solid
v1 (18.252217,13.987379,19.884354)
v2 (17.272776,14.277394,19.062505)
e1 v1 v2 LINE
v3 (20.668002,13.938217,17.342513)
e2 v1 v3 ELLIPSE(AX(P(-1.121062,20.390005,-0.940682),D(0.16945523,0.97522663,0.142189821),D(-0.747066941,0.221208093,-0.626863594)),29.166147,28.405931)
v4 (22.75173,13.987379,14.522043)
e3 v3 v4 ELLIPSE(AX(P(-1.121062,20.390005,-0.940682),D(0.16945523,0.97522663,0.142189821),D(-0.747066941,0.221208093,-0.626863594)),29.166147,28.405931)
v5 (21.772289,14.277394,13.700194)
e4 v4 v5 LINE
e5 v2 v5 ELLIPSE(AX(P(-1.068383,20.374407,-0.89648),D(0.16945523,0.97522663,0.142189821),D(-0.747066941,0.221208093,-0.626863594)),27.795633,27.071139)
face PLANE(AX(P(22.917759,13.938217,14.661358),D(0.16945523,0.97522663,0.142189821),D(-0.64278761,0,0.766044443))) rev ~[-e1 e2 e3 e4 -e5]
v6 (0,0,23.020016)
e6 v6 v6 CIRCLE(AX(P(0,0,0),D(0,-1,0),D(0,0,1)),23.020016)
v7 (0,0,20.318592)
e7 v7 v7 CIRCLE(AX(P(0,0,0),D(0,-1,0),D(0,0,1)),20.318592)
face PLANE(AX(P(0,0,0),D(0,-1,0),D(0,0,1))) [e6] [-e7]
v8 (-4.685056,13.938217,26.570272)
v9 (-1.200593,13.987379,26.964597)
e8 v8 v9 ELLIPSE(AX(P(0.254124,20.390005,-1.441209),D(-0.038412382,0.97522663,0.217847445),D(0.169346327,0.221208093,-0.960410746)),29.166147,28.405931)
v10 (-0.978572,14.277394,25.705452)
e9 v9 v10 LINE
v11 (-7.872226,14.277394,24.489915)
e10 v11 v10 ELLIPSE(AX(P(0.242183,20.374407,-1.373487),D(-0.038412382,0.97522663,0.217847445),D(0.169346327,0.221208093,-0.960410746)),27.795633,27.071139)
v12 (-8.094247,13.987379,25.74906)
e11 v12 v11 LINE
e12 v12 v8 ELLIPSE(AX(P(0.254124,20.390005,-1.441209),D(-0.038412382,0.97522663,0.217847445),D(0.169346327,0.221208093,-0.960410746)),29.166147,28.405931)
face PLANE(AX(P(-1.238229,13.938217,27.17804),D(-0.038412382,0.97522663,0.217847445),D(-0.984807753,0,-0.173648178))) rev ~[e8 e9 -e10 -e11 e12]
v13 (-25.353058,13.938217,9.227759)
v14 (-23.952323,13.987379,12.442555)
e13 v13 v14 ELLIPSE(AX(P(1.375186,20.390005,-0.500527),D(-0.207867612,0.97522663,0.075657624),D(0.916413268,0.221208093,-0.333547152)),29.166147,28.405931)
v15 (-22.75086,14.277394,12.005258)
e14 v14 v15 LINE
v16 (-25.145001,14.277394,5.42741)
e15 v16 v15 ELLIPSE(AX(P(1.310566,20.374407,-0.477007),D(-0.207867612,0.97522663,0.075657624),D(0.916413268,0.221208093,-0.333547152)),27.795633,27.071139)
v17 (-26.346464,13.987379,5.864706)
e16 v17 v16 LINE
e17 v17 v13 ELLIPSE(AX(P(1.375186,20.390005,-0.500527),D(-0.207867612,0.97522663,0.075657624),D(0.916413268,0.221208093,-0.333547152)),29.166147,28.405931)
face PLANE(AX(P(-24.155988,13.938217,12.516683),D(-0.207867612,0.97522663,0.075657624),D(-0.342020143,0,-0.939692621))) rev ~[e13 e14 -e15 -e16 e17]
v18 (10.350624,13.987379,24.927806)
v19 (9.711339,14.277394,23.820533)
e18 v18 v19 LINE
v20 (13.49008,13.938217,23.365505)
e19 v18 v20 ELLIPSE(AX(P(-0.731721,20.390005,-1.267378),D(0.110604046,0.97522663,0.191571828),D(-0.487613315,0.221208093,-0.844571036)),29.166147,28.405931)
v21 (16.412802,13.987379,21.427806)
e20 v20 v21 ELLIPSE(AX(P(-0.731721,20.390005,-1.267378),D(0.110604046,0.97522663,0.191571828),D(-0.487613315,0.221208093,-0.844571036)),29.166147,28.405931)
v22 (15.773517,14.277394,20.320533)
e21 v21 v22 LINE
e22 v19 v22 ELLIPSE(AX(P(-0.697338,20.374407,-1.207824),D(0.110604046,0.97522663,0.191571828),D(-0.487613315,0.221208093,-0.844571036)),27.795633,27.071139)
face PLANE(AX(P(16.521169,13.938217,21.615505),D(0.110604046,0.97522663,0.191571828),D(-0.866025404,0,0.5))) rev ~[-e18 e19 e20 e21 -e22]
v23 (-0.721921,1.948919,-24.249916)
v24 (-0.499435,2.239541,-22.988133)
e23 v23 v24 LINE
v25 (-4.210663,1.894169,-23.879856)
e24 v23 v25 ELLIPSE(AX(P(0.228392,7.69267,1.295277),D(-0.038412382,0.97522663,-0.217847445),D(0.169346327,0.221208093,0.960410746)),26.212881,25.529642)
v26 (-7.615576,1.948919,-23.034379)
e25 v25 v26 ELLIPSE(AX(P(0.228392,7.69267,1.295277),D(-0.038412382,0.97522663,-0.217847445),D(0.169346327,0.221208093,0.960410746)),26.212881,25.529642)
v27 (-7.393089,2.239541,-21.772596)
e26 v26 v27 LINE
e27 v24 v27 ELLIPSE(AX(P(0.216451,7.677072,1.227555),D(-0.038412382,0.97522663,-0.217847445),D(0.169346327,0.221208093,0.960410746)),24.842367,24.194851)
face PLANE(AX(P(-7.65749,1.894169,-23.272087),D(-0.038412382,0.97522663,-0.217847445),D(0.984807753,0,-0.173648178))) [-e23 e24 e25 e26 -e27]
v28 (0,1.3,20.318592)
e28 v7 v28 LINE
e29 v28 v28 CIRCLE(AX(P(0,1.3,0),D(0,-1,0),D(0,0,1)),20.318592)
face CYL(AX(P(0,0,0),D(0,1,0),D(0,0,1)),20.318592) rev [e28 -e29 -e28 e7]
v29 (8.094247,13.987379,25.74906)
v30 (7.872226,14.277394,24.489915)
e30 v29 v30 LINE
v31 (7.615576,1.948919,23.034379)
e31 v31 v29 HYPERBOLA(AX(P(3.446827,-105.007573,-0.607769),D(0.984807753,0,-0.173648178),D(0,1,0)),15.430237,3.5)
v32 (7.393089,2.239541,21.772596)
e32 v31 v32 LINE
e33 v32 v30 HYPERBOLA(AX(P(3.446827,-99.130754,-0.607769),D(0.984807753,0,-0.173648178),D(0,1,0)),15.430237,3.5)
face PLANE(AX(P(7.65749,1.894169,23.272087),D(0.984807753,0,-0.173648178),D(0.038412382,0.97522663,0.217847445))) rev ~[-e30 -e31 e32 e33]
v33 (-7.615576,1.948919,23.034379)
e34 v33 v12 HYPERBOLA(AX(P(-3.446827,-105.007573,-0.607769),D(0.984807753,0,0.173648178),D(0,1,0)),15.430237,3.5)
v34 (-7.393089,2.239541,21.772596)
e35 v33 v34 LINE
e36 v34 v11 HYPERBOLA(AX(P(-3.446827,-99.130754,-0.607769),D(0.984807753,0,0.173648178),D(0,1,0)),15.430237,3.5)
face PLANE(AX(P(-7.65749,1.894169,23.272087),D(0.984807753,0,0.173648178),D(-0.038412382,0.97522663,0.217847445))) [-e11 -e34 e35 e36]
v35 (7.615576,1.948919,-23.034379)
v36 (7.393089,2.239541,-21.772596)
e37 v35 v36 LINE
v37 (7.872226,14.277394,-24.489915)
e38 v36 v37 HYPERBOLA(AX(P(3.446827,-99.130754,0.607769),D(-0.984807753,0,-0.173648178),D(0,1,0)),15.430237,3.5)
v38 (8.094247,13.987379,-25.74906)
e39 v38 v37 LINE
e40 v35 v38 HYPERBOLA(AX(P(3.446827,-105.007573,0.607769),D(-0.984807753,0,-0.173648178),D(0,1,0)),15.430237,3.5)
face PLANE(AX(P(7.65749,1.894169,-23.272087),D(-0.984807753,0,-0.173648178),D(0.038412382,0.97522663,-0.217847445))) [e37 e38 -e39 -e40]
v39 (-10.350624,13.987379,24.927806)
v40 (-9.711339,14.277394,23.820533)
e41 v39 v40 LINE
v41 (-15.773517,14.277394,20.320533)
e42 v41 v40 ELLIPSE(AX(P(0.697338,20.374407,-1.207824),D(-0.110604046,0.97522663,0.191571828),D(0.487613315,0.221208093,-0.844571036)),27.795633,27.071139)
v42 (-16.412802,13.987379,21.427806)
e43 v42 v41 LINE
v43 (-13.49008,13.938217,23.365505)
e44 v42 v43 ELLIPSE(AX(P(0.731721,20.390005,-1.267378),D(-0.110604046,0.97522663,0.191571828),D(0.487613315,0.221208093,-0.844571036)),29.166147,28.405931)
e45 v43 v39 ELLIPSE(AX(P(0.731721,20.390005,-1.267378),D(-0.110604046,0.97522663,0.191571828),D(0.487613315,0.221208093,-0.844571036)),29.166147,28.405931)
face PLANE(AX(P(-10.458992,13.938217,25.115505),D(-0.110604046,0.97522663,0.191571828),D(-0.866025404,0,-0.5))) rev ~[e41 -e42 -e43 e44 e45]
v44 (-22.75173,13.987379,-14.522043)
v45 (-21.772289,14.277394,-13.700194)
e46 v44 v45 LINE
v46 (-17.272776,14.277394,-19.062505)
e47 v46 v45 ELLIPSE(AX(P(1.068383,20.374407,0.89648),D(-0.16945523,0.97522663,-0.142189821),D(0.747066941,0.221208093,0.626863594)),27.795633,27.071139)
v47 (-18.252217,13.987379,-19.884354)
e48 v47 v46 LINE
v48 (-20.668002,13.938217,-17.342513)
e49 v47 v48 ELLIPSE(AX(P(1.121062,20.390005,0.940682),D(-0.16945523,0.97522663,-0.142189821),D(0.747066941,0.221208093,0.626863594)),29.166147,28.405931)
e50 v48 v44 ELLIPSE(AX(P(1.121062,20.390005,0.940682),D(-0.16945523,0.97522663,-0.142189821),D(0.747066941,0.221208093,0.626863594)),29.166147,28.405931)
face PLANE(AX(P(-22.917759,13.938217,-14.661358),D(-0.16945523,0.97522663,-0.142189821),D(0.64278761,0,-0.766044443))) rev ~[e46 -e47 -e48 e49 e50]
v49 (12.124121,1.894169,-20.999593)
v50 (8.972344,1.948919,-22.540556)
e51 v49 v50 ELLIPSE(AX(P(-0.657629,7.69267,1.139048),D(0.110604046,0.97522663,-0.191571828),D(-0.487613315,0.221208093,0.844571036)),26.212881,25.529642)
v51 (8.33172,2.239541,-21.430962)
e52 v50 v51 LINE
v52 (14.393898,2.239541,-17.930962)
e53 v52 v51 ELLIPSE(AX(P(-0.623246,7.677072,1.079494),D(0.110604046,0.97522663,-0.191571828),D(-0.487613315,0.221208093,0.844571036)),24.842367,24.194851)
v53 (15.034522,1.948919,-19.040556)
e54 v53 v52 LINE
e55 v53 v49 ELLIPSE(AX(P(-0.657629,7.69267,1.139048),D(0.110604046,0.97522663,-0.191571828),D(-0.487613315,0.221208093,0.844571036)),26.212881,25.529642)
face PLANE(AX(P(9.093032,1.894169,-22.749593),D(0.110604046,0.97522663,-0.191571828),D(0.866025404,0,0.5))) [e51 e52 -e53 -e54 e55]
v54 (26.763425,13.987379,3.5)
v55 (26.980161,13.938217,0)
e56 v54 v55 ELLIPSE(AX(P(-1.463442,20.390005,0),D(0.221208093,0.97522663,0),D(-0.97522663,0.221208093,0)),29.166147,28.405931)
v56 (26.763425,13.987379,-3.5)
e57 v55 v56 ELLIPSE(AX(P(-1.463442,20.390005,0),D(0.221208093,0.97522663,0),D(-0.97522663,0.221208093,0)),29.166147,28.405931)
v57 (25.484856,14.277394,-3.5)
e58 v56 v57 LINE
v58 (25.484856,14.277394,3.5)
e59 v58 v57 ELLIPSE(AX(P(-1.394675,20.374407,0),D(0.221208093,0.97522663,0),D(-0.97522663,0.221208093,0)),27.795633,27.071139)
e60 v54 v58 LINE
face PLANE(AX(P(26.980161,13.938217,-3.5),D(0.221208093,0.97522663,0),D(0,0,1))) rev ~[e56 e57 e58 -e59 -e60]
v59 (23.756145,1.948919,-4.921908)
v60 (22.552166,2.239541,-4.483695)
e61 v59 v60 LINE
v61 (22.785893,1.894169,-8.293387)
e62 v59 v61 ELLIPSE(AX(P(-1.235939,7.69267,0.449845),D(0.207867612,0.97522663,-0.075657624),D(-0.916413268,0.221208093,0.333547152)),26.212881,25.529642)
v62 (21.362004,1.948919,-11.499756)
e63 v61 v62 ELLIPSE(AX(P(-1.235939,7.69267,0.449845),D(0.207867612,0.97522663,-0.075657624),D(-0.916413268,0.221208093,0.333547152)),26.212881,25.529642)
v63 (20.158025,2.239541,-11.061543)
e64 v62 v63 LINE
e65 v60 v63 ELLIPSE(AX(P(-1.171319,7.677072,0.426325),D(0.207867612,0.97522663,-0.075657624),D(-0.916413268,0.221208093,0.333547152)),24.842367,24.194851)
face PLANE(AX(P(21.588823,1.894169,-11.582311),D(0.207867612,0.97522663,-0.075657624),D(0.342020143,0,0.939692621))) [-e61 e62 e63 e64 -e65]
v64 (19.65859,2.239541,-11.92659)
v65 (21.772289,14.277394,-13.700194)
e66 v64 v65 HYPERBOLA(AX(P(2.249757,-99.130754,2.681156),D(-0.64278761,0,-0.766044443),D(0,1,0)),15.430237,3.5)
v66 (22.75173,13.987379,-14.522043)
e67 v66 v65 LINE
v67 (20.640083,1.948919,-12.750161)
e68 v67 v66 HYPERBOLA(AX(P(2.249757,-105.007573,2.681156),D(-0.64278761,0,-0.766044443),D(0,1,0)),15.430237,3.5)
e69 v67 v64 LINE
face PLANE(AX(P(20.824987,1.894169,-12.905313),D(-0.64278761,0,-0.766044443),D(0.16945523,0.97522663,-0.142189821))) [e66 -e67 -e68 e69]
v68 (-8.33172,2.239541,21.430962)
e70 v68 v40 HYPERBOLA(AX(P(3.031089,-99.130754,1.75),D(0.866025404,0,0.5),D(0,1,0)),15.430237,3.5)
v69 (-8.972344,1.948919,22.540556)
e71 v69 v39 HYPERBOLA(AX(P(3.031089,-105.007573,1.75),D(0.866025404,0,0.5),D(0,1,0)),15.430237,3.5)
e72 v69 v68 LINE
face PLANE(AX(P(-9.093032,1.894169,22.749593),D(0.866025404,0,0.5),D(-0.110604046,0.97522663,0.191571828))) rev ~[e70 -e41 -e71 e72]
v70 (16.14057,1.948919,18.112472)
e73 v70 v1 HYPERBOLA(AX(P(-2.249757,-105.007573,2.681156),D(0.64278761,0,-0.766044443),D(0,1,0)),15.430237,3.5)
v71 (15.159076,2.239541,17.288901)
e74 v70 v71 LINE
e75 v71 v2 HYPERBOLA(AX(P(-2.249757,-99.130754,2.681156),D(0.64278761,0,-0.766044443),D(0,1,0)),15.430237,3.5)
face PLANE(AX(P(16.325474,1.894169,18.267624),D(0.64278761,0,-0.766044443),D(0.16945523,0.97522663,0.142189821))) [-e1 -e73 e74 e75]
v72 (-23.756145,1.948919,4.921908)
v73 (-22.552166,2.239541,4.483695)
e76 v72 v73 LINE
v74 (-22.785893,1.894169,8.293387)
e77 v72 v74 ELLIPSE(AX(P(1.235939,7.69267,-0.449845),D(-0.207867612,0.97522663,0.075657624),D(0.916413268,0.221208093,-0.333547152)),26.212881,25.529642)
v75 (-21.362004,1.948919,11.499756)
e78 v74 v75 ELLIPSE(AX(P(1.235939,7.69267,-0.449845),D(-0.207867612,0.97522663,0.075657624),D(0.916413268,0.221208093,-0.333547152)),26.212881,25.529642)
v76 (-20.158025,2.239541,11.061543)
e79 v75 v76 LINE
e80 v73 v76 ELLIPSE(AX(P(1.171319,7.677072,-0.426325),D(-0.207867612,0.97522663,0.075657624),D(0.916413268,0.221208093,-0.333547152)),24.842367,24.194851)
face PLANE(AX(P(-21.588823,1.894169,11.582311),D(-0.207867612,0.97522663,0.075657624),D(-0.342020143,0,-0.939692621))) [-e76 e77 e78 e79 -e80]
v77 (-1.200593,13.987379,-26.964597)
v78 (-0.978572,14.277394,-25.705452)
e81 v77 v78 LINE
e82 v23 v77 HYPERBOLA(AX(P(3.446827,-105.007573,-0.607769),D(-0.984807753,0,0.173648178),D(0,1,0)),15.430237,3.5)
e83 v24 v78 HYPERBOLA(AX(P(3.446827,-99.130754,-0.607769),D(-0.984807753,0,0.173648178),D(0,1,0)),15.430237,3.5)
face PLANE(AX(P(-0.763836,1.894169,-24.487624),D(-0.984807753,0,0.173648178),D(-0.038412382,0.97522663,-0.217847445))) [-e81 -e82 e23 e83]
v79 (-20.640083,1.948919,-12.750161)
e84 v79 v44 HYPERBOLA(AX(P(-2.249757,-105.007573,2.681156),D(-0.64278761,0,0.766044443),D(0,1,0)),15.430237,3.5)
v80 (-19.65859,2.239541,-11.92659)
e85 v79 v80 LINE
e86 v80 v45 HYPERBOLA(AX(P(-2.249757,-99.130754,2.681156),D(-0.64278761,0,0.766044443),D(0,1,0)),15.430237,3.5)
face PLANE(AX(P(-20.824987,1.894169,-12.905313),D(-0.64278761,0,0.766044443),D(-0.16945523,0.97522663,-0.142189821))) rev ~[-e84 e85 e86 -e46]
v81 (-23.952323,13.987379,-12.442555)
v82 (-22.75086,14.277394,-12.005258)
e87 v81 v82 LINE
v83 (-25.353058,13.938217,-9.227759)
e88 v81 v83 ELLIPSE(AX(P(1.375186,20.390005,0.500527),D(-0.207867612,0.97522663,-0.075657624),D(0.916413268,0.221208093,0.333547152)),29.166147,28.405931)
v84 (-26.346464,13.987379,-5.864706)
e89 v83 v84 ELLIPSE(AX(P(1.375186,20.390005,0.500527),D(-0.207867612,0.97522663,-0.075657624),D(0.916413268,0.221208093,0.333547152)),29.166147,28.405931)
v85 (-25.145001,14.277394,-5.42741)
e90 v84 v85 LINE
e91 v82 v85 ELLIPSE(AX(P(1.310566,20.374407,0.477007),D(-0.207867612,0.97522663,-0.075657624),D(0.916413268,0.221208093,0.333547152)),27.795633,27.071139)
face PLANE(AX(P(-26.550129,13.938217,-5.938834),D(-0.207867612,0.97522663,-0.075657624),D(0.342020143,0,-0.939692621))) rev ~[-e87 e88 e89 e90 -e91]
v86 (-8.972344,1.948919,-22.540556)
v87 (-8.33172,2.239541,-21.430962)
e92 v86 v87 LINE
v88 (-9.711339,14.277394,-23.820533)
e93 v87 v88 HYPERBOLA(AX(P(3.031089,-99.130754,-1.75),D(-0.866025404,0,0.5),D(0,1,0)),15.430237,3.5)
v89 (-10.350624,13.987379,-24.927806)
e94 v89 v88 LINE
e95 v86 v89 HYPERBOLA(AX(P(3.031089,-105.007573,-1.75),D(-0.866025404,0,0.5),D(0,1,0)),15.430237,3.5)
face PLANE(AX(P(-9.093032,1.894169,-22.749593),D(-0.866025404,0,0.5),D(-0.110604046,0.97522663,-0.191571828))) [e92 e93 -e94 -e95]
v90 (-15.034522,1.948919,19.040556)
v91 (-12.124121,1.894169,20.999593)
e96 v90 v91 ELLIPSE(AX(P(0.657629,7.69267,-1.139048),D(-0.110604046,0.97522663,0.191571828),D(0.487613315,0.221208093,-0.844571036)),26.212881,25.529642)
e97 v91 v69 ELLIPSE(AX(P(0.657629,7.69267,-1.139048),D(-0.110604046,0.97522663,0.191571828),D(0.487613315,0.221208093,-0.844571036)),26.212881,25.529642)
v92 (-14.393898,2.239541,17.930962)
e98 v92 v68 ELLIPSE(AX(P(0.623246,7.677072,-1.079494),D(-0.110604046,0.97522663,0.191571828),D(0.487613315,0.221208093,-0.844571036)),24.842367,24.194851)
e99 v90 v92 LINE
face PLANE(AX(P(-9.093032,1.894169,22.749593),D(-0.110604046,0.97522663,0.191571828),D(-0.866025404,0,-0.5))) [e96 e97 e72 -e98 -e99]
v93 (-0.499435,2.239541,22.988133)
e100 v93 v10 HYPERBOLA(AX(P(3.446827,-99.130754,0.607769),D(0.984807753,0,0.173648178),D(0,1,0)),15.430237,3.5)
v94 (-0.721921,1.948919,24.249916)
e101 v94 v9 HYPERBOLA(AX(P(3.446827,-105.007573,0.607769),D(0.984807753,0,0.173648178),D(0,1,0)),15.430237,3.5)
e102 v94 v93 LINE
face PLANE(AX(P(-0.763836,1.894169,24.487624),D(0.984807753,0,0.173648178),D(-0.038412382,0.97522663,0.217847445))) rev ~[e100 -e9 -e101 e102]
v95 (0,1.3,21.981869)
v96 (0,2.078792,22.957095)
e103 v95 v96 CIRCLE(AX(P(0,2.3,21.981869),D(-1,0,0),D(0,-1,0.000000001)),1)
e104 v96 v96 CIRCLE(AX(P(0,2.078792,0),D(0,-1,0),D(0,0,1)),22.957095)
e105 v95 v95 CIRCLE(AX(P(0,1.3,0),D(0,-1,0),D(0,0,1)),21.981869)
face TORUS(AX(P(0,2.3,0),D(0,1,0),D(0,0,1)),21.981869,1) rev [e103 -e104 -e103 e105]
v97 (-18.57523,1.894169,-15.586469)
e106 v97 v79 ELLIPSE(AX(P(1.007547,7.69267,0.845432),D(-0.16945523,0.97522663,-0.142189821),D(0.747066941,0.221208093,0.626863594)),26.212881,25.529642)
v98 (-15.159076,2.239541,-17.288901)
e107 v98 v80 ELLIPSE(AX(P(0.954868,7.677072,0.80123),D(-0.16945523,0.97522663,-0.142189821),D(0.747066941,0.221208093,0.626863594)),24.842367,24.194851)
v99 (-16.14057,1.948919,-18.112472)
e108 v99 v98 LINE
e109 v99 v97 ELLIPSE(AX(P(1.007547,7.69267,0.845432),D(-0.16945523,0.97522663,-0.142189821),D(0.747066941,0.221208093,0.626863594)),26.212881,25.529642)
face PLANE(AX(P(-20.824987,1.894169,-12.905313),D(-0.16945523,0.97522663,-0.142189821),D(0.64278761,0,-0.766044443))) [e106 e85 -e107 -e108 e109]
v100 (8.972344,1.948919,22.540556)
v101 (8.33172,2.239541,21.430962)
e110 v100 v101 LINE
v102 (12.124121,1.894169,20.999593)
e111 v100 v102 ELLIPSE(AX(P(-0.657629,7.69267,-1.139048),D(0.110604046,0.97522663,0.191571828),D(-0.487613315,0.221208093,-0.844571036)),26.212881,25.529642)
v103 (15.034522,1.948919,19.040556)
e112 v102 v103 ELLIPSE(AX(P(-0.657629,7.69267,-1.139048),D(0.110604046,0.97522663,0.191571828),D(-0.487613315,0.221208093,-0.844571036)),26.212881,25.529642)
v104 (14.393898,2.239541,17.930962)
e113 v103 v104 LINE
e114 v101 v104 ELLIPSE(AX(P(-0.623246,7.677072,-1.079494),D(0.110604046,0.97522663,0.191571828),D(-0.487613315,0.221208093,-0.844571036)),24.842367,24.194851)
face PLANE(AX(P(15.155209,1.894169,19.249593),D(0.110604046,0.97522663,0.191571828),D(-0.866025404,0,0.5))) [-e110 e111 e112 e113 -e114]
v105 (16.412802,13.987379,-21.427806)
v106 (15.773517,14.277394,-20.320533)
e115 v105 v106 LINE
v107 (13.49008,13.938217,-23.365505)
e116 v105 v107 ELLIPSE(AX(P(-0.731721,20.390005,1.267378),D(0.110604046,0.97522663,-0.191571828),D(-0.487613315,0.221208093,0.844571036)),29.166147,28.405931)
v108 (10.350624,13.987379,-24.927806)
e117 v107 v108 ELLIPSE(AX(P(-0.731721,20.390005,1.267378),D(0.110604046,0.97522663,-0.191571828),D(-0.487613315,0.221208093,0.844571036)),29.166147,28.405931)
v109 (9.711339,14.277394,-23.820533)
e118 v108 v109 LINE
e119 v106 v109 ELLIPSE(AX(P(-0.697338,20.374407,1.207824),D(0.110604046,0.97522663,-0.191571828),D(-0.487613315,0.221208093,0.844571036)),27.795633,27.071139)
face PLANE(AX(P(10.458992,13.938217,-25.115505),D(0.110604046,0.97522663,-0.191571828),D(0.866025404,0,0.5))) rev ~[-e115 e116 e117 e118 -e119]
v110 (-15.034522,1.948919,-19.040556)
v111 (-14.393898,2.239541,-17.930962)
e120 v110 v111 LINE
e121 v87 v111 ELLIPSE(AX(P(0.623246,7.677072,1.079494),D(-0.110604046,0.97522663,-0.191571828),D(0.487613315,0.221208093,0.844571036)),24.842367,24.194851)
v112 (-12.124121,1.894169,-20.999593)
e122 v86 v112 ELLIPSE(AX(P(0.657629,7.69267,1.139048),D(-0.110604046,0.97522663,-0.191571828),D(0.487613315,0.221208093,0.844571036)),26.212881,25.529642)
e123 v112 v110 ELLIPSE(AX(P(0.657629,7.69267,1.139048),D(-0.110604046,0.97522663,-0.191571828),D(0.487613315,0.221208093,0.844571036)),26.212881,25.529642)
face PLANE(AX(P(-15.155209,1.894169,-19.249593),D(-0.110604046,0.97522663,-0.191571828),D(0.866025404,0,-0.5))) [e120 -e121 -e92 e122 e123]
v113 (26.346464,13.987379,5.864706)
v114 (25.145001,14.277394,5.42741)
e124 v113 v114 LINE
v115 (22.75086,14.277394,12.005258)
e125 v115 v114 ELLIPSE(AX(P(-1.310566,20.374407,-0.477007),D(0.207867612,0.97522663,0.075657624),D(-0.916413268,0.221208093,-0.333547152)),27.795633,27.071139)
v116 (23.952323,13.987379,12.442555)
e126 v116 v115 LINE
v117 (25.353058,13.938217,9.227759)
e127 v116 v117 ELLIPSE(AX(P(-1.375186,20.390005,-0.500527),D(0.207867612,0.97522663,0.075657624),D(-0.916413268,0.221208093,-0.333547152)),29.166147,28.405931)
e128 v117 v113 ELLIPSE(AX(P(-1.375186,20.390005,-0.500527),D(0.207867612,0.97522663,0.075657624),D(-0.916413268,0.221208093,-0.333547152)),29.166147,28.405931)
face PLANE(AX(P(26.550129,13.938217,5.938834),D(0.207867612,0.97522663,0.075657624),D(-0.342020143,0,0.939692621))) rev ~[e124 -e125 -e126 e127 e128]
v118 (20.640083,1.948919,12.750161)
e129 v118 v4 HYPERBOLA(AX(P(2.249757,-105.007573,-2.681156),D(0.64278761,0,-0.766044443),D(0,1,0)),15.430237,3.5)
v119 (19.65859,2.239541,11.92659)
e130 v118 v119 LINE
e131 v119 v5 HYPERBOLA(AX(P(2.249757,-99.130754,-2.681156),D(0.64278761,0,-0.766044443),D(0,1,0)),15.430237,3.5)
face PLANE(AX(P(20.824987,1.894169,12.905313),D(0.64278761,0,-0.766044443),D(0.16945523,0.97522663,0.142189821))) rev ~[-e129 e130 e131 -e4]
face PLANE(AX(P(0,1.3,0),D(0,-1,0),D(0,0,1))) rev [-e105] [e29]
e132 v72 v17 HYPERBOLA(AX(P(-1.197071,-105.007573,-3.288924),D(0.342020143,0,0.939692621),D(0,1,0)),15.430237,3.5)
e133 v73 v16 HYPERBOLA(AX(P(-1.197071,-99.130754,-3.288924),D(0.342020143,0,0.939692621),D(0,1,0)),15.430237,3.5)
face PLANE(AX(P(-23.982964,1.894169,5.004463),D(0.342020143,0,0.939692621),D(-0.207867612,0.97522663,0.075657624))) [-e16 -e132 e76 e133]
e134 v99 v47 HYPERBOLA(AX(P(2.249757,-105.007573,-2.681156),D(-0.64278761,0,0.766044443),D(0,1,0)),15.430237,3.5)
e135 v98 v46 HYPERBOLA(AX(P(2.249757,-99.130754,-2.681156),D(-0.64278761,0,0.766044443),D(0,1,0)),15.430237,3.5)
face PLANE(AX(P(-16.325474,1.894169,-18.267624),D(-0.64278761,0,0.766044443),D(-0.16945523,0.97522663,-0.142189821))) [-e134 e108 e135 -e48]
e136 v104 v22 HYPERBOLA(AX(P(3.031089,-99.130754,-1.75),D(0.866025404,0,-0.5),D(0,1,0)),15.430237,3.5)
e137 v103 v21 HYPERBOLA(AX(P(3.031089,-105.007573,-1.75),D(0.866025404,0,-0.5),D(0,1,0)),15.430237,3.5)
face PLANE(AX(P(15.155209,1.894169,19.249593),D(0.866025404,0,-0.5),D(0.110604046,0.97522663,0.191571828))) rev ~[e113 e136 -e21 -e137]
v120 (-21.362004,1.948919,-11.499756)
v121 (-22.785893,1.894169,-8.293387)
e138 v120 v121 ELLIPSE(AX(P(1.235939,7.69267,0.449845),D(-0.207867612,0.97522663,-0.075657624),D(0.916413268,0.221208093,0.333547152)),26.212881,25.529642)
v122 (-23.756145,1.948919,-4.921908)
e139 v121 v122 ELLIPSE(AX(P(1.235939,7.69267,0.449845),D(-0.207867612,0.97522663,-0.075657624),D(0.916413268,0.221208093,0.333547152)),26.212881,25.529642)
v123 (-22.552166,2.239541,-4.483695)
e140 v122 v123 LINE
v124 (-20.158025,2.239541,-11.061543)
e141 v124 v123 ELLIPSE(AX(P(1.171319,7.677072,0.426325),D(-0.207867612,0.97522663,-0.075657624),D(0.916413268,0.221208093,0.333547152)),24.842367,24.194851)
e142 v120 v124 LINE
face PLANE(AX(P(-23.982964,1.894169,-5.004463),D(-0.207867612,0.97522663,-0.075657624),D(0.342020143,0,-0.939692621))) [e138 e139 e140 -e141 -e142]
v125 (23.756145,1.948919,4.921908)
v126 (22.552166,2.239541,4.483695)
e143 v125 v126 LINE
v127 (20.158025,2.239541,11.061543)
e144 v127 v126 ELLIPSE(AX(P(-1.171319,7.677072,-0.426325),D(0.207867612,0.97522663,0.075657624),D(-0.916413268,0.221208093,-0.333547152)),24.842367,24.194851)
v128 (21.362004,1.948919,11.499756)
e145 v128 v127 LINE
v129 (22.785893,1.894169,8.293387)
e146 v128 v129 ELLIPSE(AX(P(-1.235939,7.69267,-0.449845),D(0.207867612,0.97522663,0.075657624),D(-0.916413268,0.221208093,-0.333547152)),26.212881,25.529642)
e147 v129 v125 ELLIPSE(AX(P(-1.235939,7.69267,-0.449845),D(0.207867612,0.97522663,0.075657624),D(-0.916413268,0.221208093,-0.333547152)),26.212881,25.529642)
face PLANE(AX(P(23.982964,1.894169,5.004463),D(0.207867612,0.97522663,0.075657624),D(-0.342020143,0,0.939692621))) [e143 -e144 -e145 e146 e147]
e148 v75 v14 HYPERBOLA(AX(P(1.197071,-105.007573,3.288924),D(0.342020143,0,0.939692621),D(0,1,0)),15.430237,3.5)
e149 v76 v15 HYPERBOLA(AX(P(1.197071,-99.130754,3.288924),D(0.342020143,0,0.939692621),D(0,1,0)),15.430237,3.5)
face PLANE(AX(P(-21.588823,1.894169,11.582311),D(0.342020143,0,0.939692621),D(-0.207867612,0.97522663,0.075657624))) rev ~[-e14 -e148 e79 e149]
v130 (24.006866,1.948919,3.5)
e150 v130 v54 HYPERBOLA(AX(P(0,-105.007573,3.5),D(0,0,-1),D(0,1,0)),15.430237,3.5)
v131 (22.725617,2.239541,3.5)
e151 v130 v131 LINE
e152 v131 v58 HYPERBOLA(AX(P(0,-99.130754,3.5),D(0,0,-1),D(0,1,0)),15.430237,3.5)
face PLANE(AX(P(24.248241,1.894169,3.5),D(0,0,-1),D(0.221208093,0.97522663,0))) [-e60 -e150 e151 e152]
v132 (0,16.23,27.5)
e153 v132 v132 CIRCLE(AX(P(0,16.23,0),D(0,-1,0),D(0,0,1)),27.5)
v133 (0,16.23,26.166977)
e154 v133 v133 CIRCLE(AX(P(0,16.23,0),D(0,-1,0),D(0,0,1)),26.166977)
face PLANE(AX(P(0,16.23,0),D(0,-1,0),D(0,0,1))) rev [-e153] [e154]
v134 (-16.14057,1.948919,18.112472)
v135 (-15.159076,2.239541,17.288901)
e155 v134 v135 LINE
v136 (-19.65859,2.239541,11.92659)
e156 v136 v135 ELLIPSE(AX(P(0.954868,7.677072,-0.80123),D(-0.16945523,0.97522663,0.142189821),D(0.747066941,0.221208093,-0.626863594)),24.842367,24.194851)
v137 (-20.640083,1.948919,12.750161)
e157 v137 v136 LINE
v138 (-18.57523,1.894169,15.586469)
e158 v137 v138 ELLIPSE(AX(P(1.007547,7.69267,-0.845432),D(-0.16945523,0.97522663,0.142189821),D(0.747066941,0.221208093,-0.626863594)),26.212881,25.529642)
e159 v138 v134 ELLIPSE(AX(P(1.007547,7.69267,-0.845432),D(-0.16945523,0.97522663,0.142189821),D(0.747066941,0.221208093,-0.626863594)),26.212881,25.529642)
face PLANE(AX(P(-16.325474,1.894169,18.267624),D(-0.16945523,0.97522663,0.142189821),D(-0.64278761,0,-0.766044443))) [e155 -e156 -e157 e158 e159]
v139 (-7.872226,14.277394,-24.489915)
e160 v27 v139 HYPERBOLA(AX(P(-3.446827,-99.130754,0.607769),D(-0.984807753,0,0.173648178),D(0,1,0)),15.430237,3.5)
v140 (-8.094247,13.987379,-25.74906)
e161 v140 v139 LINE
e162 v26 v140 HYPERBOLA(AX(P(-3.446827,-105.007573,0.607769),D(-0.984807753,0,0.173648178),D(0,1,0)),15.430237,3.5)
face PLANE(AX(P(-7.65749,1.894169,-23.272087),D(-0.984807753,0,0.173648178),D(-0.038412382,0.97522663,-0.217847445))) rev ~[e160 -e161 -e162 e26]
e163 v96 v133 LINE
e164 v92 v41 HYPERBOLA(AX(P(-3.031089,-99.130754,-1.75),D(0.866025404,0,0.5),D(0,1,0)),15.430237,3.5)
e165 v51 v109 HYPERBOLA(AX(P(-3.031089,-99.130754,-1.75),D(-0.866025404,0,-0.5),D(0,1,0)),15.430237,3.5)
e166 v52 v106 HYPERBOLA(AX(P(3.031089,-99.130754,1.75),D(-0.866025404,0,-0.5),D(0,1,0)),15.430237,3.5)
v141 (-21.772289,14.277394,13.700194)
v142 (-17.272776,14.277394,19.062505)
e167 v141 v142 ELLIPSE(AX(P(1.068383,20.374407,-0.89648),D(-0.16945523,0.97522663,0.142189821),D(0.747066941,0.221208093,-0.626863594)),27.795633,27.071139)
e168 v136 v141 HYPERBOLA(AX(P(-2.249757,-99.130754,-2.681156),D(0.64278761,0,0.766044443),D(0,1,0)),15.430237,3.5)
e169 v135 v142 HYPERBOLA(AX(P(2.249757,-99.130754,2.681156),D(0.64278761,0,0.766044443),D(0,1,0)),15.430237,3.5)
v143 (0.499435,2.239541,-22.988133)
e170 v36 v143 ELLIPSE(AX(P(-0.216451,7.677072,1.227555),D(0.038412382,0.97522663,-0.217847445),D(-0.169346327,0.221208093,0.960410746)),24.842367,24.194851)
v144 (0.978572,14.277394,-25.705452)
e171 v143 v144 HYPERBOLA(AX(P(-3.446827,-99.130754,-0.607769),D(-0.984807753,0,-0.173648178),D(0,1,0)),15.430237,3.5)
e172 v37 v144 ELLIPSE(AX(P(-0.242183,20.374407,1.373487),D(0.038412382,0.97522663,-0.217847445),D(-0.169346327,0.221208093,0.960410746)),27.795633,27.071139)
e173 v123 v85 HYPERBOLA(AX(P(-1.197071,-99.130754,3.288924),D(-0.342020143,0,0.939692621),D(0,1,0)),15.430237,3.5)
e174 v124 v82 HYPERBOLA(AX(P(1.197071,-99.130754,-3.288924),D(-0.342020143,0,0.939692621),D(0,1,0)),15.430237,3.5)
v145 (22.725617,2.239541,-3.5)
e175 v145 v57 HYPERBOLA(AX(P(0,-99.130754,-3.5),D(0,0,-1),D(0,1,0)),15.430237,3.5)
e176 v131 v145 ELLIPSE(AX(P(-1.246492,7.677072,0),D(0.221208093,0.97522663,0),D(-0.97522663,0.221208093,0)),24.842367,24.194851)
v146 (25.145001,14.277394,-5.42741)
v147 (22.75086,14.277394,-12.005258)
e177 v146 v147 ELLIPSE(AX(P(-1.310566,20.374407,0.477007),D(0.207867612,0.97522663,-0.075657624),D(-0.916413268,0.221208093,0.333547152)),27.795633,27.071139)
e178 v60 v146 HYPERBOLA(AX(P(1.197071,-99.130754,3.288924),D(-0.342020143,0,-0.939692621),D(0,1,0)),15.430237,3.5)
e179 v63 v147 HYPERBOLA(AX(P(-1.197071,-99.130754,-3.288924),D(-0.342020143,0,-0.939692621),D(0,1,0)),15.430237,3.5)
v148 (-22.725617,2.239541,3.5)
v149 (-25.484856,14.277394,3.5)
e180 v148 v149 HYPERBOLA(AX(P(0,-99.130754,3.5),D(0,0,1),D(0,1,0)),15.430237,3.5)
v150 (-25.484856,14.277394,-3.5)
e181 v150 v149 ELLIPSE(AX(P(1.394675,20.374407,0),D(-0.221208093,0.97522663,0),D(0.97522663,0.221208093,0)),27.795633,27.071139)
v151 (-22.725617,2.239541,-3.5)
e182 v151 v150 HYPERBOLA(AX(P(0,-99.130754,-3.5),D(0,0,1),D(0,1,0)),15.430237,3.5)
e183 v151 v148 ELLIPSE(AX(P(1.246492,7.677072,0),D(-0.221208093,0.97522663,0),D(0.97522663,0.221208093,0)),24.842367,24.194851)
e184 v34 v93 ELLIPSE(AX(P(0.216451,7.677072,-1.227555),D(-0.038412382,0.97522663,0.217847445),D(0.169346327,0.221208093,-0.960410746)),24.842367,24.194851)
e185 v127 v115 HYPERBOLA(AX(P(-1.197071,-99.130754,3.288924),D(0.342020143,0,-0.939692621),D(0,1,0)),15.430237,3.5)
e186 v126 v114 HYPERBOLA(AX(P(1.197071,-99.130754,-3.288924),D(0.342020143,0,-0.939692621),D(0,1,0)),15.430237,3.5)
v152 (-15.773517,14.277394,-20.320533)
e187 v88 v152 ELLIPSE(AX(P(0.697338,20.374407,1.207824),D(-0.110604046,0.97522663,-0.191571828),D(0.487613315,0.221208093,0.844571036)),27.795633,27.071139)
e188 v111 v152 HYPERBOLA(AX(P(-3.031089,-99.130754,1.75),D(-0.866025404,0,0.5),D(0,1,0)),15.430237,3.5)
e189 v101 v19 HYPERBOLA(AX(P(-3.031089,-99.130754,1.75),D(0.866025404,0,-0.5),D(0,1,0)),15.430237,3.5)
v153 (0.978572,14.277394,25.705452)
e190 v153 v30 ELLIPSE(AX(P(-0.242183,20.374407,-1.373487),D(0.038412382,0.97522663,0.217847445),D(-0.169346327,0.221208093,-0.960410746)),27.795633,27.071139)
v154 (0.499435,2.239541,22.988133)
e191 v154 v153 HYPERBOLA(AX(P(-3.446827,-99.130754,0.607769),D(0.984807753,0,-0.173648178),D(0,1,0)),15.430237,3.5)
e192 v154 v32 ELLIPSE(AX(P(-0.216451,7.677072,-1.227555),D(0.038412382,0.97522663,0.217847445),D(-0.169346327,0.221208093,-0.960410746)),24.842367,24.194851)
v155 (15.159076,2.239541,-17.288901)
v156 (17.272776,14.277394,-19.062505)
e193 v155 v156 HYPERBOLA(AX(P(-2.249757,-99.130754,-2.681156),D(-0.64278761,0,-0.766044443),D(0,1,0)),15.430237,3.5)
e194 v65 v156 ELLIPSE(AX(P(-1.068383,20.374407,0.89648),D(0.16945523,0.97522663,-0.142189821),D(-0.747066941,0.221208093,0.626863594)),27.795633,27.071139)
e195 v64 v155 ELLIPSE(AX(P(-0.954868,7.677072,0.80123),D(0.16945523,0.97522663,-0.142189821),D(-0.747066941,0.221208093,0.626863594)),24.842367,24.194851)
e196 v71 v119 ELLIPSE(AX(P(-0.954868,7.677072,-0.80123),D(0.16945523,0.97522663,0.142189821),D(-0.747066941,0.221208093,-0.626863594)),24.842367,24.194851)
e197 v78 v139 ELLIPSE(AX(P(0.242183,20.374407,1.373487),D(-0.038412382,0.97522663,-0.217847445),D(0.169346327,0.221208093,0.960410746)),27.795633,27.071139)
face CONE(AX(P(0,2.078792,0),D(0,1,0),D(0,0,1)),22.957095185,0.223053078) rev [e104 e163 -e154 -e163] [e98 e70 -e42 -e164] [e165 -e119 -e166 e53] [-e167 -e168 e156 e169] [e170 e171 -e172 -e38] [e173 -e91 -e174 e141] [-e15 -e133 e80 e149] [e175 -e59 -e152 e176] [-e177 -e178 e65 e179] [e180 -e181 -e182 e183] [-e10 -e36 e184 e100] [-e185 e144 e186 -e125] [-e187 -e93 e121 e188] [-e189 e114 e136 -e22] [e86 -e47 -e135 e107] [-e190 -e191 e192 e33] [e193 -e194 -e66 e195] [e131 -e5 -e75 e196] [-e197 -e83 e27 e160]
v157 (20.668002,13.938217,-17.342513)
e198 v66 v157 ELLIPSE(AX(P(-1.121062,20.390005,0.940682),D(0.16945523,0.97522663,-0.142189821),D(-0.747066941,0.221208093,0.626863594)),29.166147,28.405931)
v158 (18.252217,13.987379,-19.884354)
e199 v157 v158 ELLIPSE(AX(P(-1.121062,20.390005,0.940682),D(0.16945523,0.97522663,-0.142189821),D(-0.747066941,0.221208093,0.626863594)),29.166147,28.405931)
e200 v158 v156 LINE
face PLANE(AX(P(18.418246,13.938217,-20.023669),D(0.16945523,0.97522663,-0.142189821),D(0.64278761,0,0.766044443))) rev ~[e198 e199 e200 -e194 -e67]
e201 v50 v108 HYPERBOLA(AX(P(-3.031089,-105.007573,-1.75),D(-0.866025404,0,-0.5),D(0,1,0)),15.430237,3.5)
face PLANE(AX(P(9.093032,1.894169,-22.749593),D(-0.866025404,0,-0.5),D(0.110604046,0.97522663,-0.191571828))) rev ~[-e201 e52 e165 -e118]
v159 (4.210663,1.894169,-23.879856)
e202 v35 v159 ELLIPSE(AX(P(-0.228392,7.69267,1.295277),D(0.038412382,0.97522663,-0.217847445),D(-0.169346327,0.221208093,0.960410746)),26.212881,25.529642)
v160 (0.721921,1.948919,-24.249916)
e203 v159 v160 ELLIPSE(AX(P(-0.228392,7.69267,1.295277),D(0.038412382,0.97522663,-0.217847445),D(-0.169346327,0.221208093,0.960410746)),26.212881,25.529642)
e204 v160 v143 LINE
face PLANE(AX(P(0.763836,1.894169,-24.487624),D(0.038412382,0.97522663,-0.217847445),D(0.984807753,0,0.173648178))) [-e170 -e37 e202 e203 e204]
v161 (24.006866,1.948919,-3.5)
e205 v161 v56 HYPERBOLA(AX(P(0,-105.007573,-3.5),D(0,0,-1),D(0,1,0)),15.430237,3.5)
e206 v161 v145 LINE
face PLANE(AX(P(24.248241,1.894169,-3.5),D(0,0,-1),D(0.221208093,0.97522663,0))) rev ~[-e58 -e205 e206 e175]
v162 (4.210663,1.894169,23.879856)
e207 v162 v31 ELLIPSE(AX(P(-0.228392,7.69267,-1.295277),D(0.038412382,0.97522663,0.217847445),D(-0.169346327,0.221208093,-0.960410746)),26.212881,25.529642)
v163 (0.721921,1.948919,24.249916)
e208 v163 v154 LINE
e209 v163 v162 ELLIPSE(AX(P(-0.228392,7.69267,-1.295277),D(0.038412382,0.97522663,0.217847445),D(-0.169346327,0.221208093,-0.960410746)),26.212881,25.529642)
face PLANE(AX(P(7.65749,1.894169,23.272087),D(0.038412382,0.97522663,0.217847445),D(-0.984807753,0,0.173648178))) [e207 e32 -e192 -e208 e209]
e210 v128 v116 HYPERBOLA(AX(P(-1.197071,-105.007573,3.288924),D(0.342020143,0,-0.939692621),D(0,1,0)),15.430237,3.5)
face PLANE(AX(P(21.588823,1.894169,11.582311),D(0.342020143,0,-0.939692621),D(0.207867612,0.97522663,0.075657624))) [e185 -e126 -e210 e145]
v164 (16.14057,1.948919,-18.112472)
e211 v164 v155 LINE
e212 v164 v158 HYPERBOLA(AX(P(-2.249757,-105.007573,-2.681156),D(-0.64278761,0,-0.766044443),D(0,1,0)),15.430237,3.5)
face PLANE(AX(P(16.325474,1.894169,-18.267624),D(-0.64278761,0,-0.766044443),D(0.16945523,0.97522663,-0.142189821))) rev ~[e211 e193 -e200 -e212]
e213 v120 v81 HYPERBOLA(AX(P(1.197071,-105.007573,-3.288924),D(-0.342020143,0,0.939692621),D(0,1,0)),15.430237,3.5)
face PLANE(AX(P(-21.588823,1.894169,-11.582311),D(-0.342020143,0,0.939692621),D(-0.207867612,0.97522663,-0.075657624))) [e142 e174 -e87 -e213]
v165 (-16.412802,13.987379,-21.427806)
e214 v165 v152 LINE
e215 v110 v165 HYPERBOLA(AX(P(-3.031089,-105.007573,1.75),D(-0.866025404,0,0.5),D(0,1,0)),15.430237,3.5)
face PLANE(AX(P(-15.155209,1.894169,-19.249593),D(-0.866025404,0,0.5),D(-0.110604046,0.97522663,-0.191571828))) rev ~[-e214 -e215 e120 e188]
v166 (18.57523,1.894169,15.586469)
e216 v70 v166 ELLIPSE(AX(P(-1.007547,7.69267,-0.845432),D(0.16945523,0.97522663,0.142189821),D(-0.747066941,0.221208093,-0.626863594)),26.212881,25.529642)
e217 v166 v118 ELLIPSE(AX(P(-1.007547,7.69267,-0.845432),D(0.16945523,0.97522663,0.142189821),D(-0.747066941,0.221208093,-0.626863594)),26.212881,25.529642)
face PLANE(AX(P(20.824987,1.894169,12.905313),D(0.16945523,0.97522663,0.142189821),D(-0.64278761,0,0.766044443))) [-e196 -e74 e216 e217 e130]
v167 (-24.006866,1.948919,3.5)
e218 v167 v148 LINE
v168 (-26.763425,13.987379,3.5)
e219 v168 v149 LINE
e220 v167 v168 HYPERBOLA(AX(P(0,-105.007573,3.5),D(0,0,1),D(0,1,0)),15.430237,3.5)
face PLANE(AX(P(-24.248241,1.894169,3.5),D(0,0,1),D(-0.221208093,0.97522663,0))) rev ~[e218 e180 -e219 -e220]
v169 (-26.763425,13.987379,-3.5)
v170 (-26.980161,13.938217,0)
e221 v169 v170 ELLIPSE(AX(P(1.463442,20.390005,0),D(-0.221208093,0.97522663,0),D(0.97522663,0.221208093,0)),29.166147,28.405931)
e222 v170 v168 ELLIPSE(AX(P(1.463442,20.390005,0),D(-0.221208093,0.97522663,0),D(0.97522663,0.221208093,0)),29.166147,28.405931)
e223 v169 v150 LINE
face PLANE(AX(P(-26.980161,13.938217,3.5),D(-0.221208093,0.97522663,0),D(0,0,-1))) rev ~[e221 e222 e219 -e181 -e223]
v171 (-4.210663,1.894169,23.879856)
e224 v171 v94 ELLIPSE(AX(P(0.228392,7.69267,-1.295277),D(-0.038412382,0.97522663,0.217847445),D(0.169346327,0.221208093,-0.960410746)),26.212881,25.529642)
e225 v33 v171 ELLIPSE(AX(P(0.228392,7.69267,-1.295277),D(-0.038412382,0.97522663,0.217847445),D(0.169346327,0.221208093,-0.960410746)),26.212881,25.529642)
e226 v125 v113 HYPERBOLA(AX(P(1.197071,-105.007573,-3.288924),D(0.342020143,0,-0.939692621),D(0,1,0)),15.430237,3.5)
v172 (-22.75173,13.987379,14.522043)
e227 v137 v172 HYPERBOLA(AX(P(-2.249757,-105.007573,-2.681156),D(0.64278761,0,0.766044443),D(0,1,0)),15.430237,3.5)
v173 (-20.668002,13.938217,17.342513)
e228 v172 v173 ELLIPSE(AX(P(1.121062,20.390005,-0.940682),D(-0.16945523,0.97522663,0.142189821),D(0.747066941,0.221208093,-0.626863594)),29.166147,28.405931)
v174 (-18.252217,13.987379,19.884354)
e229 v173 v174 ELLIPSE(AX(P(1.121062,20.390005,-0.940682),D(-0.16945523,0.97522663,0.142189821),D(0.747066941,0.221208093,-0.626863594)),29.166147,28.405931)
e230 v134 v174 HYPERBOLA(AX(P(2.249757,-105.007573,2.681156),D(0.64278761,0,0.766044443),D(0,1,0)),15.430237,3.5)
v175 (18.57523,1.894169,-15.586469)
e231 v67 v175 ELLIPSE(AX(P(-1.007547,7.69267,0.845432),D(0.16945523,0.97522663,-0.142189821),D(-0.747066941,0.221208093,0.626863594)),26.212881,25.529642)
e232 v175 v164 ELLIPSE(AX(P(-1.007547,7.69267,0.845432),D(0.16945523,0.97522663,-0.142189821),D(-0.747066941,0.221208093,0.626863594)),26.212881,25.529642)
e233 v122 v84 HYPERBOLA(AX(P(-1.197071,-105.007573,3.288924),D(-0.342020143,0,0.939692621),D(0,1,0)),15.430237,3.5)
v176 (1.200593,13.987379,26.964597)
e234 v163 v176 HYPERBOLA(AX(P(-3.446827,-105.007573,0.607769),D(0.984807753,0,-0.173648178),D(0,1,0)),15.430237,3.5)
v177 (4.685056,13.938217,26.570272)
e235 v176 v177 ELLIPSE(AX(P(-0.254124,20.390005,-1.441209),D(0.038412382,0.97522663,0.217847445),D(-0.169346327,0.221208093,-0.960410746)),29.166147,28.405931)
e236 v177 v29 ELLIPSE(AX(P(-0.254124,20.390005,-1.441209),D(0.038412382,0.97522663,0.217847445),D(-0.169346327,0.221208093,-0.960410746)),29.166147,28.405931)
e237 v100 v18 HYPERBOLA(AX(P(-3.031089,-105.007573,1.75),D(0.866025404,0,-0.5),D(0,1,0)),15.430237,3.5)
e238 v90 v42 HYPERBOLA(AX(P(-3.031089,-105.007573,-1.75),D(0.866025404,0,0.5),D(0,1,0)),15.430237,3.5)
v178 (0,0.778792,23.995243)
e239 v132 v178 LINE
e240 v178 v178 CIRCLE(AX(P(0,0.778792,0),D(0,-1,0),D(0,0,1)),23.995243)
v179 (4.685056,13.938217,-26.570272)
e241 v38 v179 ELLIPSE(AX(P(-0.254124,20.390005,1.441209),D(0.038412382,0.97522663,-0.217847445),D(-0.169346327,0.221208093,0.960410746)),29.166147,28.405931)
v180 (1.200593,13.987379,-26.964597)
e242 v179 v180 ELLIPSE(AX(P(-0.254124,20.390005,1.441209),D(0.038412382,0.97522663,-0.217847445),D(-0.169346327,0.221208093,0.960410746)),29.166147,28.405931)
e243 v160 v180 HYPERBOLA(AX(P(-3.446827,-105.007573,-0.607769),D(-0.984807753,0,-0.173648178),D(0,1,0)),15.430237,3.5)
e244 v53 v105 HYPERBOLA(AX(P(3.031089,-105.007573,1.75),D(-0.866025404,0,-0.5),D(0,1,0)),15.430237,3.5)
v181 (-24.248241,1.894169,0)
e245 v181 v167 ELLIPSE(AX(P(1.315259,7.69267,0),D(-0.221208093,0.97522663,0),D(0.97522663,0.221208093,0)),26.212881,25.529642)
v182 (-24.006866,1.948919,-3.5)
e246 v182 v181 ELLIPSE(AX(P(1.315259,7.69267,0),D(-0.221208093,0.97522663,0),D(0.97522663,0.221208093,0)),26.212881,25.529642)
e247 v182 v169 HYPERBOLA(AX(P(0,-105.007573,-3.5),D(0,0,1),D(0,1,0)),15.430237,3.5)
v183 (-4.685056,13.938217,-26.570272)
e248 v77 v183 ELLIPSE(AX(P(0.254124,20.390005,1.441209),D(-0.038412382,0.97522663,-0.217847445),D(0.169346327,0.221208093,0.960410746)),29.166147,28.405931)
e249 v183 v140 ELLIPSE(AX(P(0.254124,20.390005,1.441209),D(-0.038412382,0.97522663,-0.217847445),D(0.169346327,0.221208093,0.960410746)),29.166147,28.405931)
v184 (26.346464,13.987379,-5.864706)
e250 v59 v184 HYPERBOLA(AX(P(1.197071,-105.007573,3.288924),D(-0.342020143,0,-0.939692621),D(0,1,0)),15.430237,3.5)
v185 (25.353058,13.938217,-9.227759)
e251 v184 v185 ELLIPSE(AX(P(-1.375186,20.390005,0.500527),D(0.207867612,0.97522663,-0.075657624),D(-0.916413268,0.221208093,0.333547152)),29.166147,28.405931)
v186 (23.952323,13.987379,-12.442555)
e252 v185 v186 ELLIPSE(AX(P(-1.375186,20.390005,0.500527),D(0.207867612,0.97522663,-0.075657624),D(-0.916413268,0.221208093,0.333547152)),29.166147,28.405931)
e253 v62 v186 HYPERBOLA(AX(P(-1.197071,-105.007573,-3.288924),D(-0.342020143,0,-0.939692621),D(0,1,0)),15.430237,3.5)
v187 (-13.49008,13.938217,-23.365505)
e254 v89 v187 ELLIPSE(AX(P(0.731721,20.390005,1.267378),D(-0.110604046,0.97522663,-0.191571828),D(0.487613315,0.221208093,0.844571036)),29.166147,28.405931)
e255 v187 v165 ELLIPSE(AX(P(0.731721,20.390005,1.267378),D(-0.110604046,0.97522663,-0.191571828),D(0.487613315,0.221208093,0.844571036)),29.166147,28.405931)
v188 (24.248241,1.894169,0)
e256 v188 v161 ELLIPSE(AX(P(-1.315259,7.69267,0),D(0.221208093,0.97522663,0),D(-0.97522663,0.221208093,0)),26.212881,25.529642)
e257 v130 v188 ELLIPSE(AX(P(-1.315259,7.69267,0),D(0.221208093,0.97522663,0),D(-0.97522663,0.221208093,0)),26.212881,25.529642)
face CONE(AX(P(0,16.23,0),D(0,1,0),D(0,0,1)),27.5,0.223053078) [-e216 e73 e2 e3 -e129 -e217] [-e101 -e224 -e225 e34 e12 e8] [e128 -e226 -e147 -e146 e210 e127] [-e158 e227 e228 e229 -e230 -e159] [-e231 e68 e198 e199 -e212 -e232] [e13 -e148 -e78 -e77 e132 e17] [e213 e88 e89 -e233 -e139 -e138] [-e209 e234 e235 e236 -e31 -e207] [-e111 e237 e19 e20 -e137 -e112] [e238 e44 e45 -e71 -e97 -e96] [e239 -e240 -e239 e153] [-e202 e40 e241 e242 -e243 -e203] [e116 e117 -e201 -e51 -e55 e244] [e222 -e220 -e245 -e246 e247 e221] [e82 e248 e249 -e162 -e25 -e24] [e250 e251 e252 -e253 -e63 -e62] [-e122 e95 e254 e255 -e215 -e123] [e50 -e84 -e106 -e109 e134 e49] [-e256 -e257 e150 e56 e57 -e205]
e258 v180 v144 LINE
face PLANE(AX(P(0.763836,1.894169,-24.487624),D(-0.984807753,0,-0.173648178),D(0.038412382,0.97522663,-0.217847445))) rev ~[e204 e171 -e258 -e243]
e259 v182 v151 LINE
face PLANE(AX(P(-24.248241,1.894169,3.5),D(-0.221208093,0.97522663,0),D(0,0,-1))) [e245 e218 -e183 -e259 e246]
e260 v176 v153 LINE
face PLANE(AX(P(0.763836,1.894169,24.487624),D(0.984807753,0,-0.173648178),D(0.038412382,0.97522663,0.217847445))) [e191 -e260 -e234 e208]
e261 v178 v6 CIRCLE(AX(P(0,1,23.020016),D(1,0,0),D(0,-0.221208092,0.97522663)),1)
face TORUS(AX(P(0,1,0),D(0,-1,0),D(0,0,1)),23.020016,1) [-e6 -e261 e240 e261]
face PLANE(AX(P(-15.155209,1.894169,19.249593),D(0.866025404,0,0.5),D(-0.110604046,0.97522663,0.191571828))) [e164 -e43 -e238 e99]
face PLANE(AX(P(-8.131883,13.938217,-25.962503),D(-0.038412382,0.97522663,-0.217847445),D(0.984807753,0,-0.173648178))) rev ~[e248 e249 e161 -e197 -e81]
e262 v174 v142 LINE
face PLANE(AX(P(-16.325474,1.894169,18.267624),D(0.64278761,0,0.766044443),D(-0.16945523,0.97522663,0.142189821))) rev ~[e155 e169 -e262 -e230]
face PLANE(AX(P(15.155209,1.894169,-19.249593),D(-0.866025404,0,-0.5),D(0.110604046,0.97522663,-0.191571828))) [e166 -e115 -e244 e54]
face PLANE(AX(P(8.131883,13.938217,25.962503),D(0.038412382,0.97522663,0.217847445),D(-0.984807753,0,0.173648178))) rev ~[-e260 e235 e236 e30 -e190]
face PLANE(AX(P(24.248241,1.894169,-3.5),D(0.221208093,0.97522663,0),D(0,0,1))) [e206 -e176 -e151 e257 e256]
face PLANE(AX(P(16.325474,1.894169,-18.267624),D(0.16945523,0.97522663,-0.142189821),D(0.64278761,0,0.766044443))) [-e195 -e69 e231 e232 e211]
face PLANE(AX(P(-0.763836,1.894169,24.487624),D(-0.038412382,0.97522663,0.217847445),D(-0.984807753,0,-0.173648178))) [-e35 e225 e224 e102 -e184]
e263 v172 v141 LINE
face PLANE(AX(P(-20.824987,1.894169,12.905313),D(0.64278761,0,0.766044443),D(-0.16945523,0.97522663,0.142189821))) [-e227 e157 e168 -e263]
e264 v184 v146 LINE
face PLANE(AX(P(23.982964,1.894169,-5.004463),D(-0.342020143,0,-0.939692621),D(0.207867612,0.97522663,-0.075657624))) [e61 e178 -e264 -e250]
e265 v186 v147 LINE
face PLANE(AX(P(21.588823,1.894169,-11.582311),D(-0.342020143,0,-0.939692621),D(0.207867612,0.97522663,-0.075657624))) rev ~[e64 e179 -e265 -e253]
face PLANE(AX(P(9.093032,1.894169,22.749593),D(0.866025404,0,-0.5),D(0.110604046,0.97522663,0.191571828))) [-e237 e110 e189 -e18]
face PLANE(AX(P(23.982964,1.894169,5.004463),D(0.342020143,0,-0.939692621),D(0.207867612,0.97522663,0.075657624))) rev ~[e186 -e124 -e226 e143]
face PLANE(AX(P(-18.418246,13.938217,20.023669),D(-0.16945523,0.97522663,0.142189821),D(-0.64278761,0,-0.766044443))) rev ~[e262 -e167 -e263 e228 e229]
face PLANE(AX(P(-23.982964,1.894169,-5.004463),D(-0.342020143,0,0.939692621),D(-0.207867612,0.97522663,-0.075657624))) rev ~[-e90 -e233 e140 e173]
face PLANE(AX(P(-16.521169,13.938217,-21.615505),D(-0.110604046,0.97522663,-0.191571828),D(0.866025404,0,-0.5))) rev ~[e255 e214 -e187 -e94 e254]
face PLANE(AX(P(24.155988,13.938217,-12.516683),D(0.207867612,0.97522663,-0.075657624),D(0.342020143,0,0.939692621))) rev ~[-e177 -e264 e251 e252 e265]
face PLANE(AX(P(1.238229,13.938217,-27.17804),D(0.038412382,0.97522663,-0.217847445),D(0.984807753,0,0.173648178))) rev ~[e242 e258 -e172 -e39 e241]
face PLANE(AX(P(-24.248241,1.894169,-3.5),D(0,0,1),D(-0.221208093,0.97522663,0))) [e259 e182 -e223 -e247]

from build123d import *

# Parameters (mm, degrees)
SKETCH3_W          = 12.35
SKETCH3_H          = 7
CUT_EXTRUDE1_DEPTH = 10
CIRPATTERN1_COUNT  = 18


with BuildPart() as part:
    # Sketch1 → Revolve1 (revolve)
    with BuildSketch(Plane.XY, mode=Mode.PRIVATE) as revolve1_sk:
        with BuildLine():
            Line((-27.5, 16.23), (-23.995243086, 0.778791907))
            ThreePointArc((-23.995243086, 0.778791907), (-23.644032445, 0.218588427), (-23.020016456, 0))
            Line((-23.020016456, 0), (-20.318591765, 0))
            Line((-20.318591765, 0), (-20.318591765, 1.3))
            Line((-20.318591765, 1.3), (-21.981868555, 1.3))
            ThreePointArc((-21.981868555, 1.3), (-22.605884543, 1.518588427), (-22.957095185, 2.078791907))
            Line((-22.957095185, 2.078791907), (-26.166976516, 16.23))
            Line((-26.166976516, 16.23), (-27.5, 16.23))
        make_face()
    revolve(revolve1_sk.sketch.rotate(Axis((0, 12.177236693, 0), (0, -1, 0)), 270), axis=Axis((0, 12.177236693, 0), (0, -1, 0)))

    # Sketch3 → Cut-Extrude1 (cut)
    with BuildSketch(Plane(origin=(22.653076131, -5.138337708, 0), x_dir=(0.22120809279024437, 0.9752266299092242, 0), z_dir=(0.975226629909224, -0.22120809279024434, 0))):
        with Locations((13.386150755, 0)):
            Rectangle(SKETCH3_W, SKETCH3_H)
    cut_extrude1 = extrude(amount=-CUT_EXTRUDE1_DEPTH, mode=Mode.SUBTRACT)

    # CirPattern1: Cut-Extrude1 ×18 about axis
    cirpattern1_axis = Axis((0, 0, 0), (0, 1, 0))
    for i in range(1, CIRPATTERN1_COUNT):
        add(cut_extrude1.rotate(cirpattern1_axis, i * 360 / CIRPATTERN1_COUNT), mode=Mode.SUBTRACT)


solid = part.part
